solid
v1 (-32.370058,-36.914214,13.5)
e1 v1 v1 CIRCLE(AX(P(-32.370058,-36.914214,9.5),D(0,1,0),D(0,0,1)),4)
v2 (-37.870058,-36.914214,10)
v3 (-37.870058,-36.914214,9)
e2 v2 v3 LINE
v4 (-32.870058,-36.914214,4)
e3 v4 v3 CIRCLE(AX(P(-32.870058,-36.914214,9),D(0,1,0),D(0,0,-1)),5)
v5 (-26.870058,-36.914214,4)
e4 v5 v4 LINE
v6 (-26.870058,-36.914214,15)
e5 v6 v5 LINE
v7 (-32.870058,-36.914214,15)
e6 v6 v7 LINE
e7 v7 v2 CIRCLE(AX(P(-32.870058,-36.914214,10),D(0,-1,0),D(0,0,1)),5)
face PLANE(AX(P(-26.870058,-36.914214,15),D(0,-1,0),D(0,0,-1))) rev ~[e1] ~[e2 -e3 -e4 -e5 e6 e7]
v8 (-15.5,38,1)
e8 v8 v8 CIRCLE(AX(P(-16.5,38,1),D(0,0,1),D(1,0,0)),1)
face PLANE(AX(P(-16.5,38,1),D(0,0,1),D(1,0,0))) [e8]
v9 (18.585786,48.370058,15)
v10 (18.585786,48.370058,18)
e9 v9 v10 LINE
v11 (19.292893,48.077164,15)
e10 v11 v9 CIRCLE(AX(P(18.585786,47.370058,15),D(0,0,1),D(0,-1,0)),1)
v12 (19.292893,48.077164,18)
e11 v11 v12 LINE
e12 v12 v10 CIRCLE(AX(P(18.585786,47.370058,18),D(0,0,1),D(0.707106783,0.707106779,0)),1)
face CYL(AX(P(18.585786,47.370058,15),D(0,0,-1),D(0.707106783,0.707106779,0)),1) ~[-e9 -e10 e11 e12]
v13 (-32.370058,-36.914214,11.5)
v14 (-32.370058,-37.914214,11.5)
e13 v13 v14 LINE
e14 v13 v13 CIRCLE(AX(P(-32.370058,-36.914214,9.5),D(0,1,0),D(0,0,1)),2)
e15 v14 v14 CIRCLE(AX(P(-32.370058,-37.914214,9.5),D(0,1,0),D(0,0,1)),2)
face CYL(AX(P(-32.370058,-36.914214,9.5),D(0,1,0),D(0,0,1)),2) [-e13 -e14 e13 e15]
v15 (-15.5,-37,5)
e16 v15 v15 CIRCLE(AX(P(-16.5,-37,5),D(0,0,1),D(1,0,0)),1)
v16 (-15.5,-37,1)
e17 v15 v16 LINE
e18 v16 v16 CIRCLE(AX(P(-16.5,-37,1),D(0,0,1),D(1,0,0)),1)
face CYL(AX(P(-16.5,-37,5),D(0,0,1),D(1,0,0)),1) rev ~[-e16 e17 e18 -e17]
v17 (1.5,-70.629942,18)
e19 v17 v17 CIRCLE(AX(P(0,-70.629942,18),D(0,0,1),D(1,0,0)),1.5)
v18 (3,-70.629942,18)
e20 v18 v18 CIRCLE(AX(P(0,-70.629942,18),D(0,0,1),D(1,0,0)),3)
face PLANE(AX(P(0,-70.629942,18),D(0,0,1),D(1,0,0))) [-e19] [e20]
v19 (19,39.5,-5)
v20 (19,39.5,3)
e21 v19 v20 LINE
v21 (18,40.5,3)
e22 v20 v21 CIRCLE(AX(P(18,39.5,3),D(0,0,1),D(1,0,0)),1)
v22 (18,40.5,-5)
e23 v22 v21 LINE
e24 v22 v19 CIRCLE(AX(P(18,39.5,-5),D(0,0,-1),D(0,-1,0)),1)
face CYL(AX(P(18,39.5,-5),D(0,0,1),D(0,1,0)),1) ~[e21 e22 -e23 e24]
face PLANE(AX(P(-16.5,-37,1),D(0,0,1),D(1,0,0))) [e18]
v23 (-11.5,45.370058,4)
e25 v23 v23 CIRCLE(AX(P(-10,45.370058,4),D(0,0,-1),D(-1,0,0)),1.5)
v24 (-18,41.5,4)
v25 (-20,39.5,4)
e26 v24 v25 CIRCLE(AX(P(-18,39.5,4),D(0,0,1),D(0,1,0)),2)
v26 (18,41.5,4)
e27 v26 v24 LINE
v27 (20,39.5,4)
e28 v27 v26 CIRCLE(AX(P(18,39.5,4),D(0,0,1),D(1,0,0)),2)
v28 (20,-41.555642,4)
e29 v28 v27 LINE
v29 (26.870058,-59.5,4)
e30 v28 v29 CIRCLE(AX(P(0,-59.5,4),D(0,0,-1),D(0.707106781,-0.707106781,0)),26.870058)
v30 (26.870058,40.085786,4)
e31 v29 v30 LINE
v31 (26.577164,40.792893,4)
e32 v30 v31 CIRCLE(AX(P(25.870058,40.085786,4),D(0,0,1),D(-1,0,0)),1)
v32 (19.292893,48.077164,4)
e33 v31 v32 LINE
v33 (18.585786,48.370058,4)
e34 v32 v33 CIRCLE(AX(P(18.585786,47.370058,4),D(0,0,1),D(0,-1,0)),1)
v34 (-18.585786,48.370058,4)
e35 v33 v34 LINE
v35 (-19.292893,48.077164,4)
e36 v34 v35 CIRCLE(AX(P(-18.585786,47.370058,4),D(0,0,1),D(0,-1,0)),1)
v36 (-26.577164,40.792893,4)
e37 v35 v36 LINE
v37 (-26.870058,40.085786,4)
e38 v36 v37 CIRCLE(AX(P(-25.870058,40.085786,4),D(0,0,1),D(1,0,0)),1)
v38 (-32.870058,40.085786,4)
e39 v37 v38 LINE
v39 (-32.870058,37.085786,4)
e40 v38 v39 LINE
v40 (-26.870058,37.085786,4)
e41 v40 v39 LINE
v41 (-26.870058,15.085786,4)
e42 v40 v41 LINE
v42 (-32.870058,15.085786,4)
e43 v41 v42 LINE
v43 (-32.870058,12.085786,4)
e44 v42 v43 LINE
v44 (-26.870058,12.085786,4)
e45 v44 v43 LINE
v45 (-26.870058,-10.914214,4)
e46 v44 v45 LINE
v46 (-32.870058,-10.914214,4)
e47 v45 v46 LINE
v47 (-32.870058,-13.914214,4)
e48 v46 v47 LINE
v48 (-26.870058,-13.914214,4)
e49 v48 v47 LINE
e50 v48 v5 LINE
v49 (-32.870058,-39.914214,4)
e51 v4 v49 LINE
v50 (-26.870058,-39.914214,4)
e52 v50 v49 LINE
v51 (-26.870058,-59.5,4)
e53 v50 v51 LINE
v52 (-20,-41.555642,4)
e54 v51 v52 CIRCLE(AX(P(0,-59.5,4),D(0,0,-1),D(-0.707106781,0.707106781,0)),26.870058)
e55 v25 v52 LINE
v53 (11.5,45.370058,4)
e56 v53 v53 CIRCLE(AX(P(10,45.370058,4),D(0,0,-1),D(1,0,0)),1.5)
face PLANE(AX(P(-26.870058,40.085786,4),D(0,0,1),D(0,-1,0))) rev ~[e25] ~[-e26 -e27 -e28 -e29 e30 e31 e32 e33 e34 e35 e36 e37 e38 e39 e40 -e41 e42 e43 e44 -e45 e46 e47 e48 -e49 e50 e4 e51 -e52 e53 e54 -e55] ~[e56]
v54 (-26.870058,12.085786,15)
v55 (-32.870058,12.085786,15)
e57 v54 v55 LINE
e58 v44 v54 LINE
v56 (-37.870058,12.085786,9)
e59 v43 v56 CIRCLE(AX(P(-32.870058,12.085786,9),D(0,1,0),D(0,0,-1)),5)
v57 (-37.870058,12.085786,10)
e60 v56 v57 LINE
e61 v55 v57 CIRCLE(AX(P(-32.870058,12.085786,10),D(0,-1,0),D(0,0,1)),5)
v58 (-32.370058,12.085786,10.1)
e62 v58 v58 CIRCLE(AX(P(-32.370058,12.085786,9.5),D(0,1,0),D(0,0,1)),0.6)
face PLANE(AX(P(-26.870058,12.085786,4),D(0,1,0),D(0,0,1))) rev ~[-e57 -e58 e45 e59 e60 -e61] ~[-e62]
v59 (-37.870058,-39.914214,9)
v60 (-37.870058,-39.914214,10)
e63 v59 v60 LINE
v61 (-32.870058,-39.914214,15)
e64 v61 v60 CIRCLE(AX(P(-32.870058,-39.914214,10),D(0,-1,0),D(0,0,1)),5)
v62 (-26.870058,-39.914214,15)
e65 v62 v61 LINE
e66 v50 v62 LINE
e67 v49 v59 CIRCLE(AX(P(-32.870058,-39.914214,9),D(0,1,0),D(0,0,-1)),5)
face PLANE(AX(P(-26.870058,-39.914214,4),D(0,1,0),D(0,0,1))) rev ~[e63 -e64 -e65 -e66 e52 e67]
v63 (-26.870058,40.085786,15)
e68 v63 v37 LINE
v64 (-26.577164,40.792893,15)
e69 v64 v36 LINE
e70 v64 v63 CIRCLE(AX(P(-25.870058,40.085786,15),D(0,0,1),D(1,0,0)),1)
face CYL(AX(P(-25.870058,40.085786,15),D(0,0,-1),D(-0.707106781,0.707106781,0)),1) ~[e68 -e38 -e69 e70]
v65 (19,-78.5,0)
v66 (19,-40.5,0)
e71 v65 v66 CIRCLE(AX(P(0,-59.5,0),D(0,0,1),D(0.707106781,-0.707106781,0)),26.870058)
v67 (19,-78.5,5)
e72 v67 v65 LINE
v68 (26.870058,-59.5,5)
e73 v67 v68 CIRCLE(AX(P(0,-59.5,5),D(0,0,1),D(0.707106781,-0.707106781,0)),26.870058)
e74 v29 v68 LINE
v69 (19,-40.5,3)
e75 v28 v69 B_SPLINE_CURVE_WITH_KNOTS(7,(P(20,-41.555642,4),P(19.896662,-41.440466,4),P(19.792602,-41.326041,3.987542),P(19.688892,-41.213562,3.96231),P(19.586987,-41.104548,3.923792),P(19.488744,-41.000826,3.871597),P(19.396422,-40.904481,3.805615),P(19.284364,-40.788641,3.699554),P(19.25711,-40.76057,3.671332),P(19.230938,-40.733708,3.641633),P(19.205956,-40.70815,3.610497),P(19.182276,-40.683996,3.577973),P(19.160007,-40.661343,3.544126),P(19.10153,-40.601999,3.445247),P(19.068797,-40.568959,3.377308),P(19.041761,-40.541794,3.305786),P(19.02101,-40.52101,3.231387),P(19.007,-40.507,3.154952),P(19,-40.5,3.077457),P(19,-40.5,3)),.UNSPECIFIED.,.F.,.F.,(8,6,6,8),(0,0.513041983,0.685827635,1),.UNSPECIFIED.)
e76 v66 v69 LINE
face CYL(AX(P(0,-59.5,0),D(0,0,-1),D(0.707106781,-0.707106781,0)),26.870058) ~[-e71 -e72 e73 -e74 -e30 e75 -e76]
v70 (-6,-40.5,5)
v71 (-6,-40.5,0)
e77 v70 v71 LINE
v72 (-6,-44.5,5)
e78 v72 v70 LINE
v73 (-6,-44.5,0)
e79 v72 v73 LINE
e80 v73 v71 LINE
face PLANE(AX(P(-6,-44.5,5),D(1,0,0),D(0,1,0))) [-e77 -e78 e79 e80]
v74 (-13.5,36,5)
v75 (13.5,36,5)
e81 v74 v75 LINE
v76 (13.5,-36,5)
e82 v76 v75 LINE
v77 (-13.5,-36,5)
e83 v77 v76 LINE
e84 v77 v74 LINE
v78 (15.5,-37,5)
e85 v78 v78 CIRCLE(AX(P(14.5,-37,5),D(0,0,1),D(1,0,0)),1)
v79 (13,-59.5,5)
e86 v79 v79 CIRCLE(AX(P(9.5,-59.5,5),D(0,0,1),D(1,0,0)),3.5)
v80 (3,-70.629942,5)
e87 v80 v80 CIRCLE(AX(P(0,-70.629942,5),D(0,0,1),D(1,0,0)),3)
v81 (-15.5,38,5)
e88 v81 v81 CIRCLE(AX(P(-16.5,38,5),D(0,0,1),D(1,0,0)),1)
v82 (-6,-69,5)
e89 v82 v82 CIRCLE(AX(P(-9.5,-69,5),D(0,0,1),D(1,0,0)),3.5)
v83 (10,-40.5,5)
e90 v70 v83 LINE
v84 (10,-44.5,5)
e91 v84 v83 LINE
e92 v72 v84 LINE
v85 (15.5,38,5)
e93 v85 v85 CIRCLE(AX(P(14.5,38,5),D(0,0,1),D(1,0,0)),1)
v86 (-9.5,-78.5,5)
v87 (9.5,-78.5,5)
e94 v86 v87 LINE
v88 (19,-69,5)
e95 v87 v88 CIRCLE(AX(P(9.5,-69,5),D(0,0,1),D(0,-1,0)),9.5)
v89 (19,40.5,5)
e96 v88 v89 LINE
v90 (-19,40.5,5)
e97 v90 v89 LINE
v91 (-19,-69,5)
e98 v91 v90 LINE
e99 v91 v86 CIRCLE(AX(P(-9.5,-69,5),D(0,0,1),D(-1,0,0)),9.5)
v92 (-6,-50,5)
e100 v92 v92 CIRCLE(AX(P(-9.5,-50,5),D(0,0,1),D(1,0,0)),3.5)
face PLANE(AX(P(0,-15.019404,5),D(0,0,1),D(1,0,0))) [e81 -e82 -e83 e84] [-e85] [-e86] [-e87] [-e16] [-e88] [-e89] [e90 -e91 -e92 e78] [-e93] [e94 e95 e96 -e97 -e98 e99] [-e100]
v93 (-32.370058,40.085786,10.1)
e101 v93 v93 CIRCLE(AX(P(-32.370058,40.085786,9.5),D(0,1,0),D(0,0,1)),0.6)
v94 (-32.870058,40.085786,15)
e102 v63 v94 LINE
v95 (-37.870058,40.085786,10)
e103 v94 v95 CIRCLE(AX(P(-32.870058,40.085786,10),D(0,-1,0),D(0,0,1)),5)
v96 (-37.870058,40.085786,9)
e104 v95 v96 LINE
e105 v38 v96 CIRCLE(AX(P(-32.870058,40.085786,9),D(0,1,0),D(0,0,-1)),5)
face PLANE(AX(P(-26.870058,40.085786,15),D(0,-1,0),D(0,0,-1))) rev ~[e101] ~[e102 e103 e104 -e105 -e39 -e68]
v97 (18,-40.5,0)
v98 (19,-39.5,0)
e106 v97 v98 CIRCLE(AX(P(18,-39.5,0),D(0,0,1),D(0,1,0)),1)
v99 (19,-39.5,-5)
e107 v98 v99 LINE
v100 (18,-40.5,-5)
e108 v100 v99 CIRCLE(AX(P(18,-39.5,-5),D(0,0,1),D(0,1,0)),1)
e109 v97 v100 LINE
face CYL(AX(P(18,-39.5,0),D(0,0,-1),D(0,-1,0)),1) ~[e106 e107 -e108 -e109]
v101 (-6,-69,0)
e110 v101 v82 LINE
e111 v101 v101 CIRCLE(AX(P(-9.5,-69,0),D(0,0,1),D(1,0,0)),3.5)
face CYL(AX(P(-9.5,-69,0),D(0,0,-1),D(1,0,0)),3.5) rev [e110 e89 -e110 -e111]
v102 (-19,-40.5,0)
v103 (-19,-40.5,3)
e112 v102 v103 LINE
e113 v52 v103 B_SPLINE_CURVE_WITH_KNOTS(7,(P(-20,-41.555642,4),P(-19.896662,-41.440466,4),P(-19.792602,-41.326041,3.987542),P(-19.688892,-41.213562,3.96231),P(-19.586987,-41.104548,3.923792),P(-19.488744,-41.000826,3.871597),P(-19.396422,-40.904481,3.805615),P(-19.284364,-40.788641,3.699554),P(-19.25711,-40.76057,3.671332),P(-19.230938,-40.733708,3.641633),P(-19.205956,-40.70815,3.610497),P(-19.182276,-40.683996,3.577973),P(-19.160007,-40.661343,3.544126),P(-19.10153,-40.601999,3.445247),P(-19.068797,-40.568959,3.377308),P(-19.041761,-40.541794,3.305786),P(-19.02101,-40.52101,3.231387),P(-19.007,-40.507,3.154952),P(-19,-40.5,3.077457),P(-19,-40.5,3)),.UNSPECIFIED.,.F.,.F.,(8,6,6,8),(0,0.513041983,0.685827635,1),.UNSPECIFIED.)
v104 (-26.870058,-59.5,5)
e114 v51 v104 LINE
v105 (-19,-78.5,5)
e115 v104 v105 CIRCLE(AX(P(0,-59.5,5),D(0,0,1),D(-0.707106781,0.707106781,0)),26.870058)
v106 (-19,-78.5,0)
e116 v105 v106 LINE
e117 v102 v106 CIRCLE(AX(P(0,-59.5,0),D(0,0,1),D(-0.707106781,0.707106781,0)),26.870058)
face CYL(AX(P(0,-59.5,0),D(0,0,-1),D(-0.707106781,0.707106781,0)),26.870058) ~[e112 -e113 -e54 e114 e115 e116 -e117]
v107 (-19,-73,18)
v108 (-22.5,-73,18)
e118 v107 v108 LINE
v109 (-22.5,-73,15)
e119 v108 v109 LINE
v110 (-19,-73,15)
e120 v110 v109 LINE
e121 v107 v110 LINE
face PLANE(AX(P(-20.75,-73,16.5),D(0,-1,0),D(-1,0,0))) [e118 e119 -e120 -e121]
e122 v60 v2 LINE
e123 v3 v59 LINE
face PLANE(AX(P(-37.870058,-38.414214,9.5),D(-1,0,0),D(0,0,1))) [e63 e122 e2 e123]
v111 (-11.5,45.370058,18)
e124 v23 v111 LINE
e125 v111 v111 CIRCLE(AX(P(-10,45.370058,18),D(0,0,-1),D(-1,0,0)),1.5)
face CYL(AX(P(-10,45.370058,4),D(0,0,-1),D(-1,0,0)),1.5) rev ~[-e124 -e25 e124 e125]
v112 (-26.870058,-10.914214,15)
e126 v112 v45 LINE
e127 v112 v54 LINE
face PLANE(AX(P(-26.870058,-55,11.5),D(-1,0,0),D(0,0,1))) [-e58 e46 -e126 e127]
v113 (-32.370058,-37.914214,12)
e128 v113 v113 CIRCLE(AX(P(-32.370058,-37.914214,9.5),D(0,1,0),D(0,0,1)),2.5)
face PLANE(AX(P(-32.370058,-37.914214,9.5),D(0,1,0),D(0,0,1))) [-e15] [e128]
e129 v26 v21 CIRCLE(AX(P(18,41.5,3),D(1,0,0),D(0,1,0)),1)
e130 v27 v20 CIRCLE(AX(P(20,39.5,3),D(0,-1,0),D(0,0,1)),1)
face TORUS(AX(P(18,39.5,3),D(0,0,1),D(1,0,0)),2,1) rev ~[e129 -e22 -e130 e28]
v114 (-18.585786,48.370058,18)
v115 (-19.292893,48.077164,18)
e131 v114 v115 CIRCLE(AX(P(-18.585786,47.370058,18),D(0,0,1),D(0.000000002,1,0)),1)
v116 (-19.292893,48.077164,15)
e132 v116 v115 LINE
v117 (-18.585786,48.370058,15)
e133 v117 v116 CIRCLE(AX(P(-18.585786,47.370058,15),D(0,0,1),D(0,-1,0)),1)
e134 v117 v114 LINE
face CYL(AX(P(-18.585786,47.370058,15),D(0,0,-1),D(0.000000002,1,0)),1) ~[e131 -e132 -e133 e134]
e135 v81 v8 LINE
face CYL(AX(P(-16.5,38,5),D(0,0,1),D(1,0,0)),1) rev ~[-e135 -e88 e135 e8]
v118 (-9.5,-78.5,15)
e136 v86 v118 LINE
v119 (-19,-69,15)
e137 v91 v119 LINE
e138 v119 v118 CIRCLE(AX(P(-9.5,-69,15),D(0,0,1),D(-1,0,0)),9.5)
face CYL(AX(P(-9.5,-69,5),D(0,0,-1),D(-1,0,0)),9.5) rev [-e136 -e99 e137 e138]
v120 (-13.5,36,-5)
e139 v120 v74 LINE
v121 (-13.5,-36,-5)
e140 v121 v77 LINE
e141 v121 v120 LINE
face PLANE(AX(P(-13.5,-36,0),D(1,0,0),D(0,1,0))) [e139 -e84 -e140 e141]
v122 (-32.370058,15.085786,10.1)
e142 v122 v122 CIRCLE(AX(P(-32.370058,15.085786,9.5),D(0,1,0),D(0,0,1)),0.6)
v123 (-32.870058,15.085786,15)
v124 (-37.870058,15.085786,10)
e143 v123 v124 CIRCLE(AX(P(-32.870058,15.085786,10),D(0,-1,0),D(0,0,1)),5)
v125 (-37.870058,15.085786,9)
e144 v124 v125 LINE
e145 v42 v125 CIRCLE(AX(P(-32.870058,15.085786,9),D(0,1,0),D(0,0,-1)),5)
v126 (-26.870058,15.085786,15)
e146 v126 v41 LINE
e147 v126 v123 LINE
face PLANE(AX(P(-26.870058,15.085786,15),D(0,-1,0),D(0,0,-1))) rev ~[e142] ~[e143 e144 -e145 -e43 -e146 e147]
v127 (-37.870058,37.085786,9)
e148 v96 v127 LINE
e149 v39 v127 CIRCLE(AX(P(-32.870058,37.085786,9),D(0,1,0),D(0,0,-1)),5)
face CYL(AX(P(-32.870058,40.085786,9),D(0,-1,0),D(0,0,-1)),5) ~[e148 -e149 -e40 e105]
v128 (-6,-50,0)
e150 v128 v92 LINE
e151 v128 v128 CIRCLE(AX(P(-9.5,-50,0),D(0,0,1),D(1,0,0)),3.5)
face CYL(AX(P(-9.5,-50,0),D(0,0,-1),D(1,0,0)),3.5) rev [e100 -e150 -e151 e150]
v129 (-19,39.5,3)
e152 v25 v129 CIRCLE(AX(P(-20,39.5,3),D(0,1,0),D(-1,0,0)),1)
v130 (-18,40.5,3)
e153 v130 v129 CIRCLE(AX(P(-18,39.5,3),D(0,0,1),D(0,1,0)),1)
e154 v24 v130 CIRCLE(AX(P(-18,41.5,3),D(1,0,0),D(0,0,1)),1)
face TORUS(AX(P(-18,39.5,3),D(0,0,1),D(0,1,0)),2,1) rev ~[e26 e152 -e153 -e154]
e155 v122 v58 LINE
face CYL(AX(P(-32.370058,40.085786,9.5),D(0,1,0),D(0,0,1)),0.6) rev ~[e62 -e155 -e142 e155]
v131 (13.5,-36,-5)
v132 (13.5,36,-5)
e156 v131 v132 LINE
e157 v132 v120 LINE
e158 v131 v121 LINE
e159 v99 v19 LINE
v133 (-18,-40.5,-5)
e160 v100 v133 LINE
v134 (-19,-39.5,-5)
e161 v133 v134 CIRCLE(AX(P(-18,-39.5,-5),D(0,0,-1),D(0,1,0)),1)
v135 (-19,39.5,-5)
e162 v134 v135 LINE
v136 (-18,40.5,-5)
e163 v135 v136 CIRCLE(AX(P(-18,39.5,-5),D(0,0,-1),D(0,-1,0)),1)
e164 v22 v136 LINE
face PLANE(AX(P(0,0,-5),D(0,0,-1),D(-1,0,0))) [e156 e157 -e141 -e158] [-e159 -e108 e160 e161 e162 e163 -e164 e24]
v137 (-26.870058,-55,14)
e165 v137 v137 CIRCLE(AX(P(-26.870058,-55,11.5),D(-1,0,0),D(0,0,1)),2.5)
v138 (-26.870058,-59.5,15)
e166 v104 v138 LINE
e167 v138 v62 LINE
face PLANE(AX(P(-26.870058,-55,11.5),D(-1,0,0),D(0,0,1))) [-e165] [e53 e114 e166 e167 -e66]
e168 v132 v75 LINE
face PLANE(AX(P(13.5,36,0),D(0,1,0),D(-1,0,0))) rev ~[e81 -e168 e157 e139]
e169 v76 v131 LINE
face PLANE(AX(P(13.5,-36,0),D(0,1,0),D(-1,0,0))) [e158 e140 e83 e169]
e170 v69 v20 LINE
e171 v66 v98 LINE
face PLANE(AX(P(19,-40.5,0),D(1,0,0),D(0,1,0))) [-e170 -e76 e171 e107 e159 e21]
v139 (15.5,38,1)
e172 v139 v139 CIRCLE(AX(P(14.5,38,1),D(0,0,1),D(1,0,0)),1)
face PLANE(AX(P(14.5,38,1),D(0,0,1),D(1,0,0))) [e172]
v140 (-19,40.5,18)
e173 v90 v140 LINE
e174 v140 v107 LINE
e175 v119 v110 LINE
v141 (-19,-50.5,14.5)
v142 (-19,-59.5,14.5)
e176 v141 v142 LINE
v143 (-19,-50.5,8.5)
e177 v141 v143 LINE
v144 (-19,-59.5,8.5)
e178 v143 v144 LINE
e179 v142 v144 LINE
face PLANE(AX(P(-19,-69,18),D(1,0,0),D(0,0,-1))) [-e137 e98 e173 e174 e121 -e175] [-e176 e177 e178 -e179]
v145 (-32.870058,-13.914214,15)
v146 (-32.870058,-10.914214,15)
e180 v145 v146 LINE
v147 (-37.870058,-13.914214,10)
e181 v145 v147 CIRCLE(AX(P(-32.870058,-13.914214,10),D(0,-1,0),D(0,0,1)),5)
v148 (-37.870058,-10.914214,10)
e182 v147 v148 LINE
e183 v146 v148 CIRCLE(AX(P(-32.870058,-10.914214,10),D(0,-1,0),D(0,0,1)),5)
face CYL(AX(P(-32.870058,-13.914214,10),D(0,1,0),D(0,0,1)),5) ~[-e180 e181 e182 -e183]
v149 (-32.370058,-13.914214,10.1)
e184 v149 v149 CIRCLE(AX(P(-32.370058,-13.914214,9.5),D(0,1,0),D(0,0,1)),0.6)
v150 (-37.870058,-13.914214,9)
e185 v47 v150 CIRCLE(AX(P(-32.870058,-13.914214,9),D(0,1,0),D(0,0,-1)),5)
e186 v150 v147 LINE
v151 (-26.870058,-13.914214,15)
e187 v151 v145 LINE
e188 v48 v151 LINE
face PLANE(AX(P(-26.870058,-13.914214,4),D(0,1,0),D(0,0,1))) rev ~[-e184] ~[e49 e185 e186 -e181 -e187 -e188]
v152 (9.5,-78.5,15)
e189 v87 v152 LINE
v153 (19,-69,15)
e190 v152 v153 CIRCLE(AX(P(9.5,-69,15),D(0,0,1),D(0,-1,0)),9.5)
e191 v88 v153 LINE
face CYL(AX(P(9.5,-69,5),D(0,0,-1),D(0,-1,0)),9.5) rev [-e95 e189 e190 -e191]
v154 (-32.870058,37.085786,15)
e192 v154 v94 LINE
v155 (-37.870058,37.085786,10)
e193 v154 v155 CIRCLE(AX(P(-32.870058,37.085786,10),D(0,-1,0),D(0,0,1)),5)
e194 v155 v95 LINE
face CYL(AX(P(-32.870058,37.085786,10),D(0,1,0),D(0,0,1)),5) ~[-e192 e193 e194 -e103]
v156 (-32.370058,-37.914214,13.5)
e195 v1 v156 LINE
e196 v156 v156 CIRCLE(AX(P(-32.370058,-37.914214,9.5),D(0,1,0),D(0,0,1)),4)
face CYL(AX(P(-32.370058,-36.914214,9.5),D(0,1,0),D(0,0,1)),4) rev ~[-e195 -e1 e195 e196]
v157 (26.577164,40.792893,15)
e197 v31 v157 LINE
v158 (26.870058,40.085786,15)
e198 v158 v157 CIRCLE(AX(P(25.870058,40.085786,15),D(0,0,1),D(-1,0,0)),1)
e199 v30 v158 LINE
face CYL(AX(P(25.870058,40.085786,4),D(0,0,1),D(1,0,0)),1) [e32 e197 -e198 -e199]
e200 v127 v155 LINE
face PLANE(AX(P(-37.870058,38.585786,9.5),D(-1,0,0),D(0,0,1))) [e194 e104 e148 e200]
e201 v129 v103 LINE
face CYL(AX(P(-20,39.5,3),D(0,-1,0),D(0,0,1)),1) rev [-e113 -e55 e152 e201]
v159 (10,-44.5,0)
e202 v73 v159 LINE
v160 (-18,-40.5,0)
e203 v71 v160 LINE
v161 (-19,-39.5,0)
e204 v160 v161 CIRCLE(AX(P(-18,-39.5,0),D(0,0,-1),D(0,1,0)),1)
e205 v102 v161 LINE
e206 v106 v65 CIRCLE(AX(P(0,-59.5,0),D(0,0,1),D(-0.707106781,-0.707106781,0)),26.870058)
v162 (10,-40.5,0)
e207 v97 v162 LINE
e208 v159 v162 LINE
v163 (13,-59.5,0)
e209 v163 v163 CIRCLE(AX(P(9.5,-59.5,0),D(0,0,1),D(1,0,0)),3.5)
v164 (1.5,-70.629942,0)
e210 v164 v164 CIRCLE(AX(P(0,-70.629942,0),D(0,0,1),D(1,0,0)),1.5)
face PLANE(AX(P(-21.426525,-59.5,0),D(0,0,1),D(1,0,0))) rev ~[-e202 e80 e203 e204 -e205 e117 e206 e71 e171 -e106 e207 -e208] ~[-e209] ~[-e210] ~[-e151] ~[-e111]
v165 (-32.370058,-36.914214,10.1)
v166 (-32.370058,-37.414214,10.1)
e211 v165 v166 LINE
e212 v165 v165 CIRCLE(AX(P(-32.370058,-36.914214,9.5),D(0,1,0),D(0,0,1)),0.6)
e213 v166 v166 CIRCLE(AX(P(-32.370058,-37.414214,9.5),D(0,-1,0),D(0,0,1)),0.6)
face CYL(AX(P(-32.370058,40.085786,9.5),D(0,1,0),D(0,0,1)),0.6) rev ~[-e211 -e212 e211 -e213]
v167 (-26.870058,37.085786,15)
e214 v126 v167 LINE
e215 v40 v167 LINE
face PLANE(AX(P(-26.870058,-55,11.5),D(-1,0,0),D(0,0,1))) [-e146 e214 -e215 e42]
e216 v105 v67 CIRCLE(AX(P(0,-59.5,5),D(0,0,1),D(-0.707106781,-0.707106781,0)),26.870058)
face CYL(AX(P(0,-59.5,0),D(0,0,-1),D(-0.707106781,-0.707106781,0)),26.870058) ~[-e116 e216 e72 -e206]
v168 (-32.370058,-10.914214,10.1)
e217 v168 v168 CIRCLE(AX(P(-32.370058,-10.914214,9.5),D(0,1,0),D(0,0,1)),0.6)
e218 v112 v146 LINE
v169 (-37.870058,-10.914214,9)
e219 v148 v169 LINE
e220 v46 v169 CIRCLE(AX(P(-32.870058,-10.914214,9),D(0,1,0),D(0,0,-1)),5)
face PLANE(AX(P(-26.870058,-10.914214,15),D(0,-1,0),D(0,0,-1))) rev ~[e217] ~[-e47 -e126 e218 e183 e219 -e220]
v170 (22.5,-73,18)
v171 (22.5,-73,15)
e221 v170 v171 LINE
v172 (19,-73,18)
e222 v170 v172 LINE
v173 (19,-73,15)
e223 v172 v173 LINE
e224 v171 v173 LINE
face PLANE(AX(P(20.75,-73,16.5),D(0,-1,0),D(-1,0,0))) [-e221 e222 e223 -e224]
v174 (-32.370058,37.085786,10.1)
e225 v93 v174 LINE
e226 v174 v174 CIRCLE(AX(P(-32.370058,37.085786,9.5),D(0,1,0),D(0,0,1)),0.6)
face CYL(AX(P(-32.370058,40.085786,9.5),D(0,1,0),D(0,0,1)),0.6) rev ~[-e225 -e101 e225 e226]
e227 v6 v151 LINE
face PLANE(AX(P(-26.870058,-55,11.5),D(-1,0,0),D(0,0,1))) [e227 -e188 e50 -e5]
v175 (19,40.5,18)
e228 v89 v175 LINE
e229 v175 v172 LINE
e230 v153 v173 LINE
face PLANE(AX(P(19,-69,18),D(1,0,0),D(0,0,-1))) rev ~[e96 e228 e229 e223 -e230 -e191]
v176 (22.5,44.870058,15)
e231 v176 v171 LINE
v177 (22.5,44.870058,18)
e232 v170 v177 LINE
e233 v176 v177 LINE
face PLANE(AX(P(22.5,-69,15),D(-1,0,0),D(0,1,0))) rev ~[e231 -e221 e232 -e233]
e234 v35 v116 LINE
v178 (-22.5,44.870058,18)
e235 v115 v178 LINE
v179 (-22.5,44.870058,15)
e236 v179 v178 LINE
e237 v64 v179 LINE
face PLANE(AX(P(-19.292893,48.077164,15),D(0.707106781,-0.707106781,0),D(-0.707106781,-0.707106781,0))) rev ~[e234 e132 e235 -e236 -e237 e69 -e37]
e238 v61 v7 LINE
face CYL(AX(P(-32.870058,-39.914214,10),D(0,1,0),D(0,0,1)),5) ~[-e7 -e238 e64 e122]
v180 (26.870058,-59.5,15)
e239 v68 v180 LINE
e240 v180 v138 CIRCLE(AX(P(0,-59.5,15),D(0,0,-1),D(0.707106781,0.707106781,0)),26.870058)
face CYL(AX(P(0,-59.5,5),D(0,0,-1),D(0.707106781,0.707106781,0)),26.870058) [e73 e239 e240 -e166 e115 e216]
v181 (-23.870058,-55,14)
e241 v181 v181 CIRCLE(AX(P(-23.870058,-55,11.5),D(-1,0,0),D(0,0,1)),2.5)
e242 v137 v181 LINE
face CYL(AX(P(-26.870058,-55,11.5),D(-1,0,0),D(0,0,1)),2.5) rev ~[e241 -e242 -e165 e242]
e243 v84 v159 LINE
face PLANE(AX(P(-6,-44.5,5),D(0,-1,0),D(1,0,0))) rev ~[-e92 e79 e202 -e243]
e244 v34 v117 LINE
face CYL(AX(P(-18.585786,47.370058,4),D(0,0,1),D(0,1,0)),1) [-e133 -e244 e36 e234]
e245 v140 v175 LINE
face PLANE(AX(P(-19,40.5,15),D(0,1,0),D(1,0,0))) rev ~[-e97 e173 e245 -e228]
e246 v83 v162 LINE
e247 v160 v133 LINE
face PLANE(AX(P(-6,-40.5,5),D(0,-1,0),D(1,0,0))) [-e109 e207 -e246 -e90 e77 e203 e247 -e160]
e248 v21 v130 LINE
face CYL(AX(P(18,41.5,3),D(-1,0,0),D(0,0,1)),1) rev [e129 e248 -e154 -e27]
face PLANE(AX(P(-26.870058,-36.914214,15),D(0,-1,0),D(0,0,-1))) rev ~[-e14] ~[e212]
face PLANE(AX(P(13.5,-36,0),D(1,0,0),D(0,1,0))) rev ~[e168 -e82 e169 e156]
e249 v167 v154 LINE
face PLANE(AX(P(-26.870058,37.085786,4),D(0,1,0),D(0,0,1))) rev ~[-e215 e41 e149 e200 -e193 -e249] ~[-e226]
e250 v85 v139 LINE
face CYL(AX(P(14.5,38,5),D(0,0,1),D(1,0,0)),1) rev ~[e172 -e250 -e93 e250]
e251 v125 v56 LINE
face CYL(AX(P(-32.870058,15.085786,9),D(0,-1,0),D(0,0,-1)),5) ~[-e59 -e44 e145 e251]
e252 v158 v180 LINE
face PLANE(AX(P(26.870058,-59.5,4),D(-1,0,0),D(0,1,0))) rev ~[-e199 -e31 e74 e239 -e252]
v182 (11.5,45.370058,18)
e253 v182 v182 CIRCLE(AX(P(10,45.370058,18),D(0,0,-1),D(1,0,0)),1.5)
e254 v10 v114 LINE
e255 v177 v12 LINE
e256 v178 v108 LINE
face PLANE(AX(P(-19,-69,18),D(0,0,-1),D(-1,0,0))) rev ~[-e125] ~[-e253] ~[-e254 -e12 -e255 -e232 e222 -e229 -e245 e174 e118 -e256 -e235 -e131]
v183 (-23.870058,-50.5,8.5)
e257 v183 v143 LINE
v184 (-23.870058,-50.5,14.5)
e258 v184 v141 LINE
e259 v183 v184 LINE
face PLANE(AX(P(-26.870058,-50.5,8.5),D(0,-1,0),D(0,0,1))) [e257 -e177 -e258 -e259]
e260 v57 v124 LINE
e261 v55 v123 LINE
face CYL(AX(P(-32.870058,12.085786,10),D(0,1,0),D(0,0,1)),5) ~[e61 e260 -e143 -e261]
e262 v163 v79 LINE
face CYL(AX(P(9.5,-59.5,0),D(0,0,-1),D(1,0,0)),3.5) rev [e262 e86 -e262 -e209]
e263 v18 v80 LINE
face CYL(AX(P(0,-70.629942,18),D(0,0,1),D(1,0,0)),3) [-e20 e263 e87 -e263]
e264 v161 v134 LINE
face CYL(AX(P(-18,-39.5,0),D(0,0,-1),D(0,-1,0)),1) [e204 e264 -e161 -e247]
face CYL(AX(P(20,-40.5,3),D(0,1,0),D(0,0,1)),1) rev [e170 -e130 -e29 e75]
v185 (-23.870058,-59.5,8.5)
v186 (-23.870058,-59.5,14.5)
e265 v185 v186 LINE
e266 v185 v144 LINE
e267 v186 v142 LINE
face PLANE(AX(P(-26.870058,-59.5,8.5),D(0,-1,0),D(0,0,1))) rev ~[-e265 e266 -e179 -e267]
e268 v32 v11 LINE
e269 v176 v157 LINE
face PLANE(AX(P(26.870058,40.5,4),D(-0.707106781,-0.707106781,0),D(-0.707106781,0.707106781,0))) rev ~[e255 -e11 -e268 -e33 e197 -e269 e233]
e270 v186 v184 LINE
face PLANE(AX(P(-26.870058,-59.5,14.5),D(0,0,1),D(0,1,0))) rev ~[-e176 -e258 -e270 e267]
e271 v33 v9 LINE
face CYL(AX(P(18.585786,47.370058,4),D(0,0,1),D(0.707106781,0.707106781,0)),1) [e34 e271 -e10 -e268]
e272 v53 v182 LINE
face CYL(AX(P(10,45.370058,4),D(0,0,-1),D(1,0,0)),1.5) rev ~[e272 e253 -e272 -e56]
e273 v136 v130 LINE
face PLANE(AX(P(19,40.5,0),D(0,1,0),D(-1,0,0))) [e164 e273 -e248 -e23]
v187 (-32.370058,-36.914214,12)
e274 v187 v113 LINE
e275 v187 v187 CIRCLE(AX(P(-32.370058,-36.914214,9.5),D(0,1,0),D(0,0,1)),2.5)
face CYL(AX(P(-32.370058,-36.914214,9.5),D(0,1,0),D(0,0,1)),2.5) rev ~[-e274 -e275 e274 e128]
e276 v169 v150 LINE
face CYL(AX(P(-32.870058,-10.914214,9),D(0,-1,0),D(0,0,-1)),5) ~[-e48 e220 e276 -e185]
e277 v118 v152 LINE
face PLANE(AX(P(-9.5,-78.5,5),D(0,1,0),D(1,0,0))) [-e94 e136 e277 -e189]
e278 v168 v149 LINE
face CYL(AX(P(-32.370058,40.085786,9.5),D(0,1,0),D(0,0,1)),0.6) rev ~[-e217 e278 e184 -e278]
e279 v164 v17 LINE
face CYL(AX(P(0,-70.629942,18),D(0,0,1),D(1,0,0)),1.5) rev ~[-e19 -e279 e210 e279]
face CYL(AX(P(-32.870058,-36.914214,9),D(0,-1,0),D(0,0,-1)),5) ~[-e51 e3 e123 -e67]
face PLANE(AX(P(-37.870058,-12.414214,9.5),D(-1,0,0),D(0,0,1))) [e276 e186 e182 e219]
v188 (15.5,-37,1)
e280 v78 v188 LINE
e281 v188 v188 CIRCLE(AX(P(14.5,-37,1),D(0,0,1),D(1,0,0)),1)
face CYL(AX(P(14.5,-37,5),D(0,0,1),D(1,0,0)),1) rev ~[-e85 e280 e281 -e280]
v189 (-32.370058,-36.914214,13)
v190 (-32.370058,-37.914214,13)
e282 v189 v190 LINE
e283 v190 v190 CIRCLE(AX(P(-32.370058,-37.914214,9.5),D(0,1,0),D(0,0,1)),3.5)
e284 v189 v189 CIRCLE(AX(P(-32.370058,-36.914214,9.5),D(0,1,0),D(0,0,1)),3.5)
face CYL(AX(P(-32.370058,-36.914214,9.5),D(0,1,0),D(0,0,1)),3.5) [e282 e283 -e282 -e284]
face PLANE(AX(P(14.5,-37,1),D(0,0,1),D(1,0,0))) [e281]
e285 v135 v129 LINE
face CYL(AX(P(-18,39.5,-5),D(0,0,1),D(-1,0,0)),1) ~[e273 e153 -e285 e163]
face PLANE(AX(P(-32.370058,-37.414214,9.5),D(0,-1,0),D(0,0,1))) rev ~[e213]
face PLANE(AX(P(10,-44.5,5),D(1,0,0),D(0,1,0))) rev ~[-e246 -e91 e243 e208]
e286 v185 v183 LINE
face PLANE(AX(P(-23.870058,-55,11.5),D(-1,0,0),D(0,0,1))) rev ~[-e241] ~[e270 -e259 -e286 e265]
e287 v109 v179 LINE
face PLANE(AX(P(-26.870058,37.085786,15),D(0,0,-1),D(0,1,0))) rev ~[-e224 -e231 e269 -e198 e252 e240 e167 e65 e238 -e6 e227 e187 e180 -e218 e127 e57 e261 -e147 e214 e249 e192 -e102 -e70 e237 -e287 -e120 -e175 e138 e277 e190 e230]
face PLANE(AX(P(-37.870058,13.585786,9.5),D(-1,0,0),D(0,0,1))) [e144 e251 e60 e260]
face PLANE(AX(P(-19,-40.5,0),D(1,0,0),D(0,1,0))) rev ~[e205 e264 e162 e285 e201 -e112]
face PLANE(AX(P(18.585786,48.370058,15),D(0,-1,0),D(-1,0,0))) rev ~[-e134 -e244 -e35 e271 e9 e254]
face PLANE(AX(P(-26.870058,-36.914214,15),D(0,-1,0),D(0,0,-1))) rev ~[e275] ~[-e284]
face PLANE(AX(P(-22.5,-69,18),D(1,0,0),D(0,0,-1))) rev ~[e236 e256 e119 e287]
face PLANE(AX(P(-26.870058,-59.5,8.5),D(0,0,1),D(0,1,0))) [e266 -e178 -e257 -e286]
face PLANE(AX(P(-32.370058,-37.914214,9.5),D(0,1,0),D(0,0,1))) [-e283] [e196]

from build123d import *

# Parameters (mm, degrees)
CROQUIS1_W               = 38
CROQUIS1_H               = 81
CROQUIS1_W_2             = 27
CROQUIS1_H_2             = 72
CROQUIS1_H_3             = 38
CROQUIS1_R               = 3.5
SALIENTE_EXTRUIR1_DEPTH  = 5
CROQUIS2_W               = 38
CROQUIS2_H               = 81
CROQUIS2_W_2             = 27
CROQUIS2_H_2             = 72
SALIENTE_EXTRUIR2_DEPTH  = 5
SALIENTE_EXTRUIR9_START  = -1
SALIENTE_EXTRUIR9_DEPTH  = 1
SALIENTE_EXTRUIR10_DEPTH = 11
SALIENTE_EXTRUIR11_DEPTH = 10
REDONDEO1_R              = 1
REDONDEO2_R              = 1
REDONDEO3_R              = 1
CROQUIS6_W               = 6
CROQUIS6_H               = 9
CORTAR_EXTRUIR1_DEPTH    = 8
CROQUIS7_W               = 6
CROQUIS7_H               = 9
CROQUIS7_R               = 2.5
SALIENTE_EXTRUIR12_DEPTH = 3
SALIENTE_EXTRUIR13_DEPTH = 11
REDONDEO4_R              = 5
CROQUIS9_R               = 0.6
CORTAR_EXTRUIR2_DEPTH    = 80
SALIENTE_EXTRUIR14_START = -2.5
CROQUIS10_R              = 0.6
SALIENTE_EXTRUIR14_DEPTH = 2.5
CROQUIS11_R              = 4
CROQUIS11_R_2            = 3.5
CROQUIS11_R_3            = 2.5
CROQUIS11_R_4            = 2
CORTAR_EXTRUIR3_DEPTH    = 1
SALIENTE_EXTRUIR15_DEPTH = 3
CROQUIS14_R              = 1.5
CORTAR_EXTRUIR4_DEPTH    = 14
CROQUIS16_W              = 3.5
CROQUIS16_H              = 3
SALIENTE_EXTRUIR16_DEPTH = 4
CROQUIS25_R              = 3
CROQUIS25_R_2            = 1.5
SALIENTE_EXTRUIR21_DEPTH = 18
CROQUIS26_R              = 1.5
CORTAR_EXTRUIR7_DEPTH    = 18
CROQUIS28_R              = 1
CORTAR_EXTRUIR8_DEPTH    = 4
CROQUIS29_W              = 16
CROQUIS29_H              = 4
CORTAR_EXTRUIR9_DEPTH    = 5


with BuildPart() as part:
    # Croquis1 → Saliente-Extruir1 (new body)
    # profile 1 of 5: a face of its own
    with BuildSketch(Plane.XY):
        Rectangle(CROQUIS1_W, CROQUIS1_H)
        Rectangle(CROQUIS1_W_2, CROQUIS1_H_2, mode=Mode.SUBTRACT)
    # profile 2 of 5: a face of its own
    with BuildSketch(Plane.XY):
        with Locations((0, -59.5)):
            Rectangle(CROQUIS1_W, CROQUIS1_H_3)
        with Locations((-9.5, -69)):
            Circle(CROQUIS1_R, mode=Mode.SUBTRACT)
        with Locations((9.5, -59.5)):
            Circle(CROQUIS1_R, mode=Mode.SUBTRACT)
        with Locations((-9.5, -50)):
            Circle(CROQUIS1_R, mode=Mode.SUBTRACT)
    # profile 3 of 5: a face of its own
    with BuildSketch(Plane.XY):
        with BuildLine():
            ThreePointArc((19, -78.5), (26.870057685, -59.5), (19, -40.5))
            Line((19, -40.5), (19, -78.5))
        make_face()
    # profile 4 of 5: a face of its own
    with BuildSketch(Plane.XY):
        with BuildLine():
            Line((19, -78.5), (-19, -78.5))
            ThreePointArc((-19, -78.5), (0, -86.370057685), (19, -78.5))
        make_face()
    # profile 5 of 5: a face of its own
    with BuildSketch(Plane.XY):
        with BuildLine():
            Line((-19, -78.5), (-19, -40.5))
            ThreePointArc((-19, -40.5), (-26.870057685, -59.5), (-19, -78.5))
        make_face()
    extrude(amount=SALIENTE_EXTRUIR1_DEPTH)

    # Croquis2 → Saliente-Extruir2 (add)
    with BuildSketch(Plane(origin=(0, 0, 0), x_dir=(-1, 0, 0), z_dir=(0, 0, -1))):
        Rectangle(CROQUIS2_W, CROQUIS2_H)
        Rectangle(CROQUIS2_W_2, CROQUIS2_H_2, mode=Mode.SUBTRACT)
    extrude(amount=SALIENTE_EXTRUIR2_DEPTH)

    # Croquis3 → Saliente-Extruir9 (add)
    with BuildSketch(Plane.XY.offset(5).offset(SALIENTE_EXTRUIR9_START)):
        with BuildLine():
            Line((26.870057685, -59.5), (26.870057685, 40.5))
            Line((26.870057685, 40.5), (19, 48.370057685))
            Line((19, 48.370057685), (-19, 48.370057685))
            Line((-19, 48.370057685), (-26.870057685, 40.5))
            Line((-26.870057685, 40.5), (-26.870057685, -59.5))
            ThreePointArc((-26.870057685, -59.5), (0, -86.370057685), (26.870057685, -59.5))
        make_face()
        with BuildLine():
            Line((19, -59.5), (19, 40.5))
            Line((19, 40.5), (-19, 40.5))
            Line((-19, 40.5), (-19, -59.5))
            ThreePointArc((-19, -59.5), (0, -78.5), (19, -59.5))
        make_face(mode=Mode.SUBTRACT)
    extrude(amount=SALIENTE_EXTRUIR9_DEPTH)

    # Croquis4 → Saliente-Extruir10 (add)
    with BuildSketch(Plane(origin=(0, 0, 4), x_dir=(-1, 0, 0), z_dir=(0, 0, -1))):
        with BuildLine():
            Line((19, 40.5), (19, -40.5))
            ThreePointArc((19, -40.5), (24.824696333, -49.217274097), (26.870057685, -59.5))
            Line((26.870057685, -59.5), (26.870057685, 40.5))
            Line((26.870057685, 40.5), (19, 48.370057685))
            Line((19, 48.370057685), (-19, 48.370057685))
            Line((-19, 48.370057685), (-26.870057685, 40.5))
            Line((-26.870057685, 40.5), (-26.870057685, -59.5))
            ThreePointArc((-26.870057685, -59.5), (-24.824696333, -49.217274097), (-19, -40.5))
            Line((-19, -40.5), (-19, 40.5))
            Line((-19, 40.5), (19, 40.5))
        make_face()
    extrude(amount=-SALIENTE_EXTRUIR10_DEPTH)

    # Croquis5 → Saliente-Extruir11 (add)
    with BuildSketch(Plane.XY.offset(5)):
        with BuildLine():
            Line((-19, -59.5), (-19, -69))
            ThreePointArc((-19, -69), (-16.217514421, -75.717514421), (-9.5, -78.5))
            Line((-9.5, -78.5), (9.5, -78.5))
            ThreePointArc((9.5, -78.5), (16.217514421, -75.717514421), (19, -69))
            Line((19, -69), (19, -59.5))
            Line((19, -59.5), (19, -40.5))
            ThreePointArc((19, -40.5), (0, -86.370057685), (-19, -40.5))
            Line((-19, -40.5), (-19, -59.5))
        make_face()
    extrude(amount=SALIENTE_EXTRUIR11_DEPTH)

    # Redondeo1
    redondeo1_edges = [part.edges().sort_by_distance(p)[0] for p in [
        (19, -40.5, -2.5),
        (-19, -40.5, -2.5),
        (19, 40.5, -0.5),
        (-19, 40.5, -0.5),
    ]]
    fillet(redondeo1_edges, radius=REDONDEO1_R)

    # Redondeo2
    redondeo2_edges = [part.edges().sort_by_distance(p)[0] for p in [
        (-19, -0.5, 4),
        (0, 40.5, 4),
        (-18.707106781, 40.207106781, 4),
        (18.707106781, 40.207106781, 4),
        (19, -0.5, 4),
    ]]
    fillet(redondeo2_edges, radius=REDONDEO2_R)

    # Redondeo3
    redondeo3_edges = [part.edges().sort_by_distance(p)[0] for p in [
        (19, 48.370057685, 9.5),
        (26.870057685, 40.5, 9.5),
        (-26.870057685, 40.5, 9.5),
        (-19, 48.370057685, 9.5),
    ]]
    fillet(redondeo3_edges, radius=REDONDEO3_R)

    # Croquis6 → Cortar-Extruir1 (cut)
    with BuildSketch(Plane.ZY.offset(26.870057685)):
        with Locations((11.5, -55)):
            Rectangle(CROQUIS6_W, CROQUIS6_H)
    extrude(amount=-CORTAR_EXTRUIR1_DEPTH, mode=Mode.SUBTRACT)

    # Croquis7 → Saliente-Extruir12 (add)
    with BuildSketch(Plane.ZY.offset(26.870057685)):
        with Locations((11.5, -55)):
            Rectangle(CROQUIS7_W, CROQUIS7_H)
        with Locations((11.5, -55)):
            Circle(CROQUIS7_R, mode=Mode.SUBTRACT)
    extrude(amount=-SALIENTE_EXTRUIR12_DEPTH)

    # Croquis8 → Saliente-Extruir13 (add)
    with BuildSketch(Plane.ZY.offset(26.870057685)):
        Polygon((15, 40.085786438), (4, 40.085786438), (4, 37.085786438), (9.5, 37.085786438), (15, 37.085786438), align=None)
        Polygon((9.5, 15.085786438), (4, 15.085786438), (4, 12.085786438), (9.5, 12.085786438), (15, 12.085786438), (15, 15.085786438), align=None)
        Polygon((9.5, -10.914213562), (4, -10.914213562), (4, -13.914213562), (9.5, -13.914213562), (15, -13.914213562), (15, -10.914213562), align=None)
        Polygon((9.5, -36.914213562), (4, -36.914213562), (4, -39.914213562), (15, -39.914213562), (15, -36.914213562), align=None)
    extrude(amount=SALIENTE_EXTRUIR13_DEPTH)

    # Redondeo4
    redondeo4_edges = [part.edges().sort_by_distance(p)[0] for p in [
        (-37.870057685, 38.585786438, 4),
        (-37.870057685, 38.585786438, 15),
        (-37.870057685, 13.585786438, 4),
        (-37.870057685, 13.585786438, 15),
        (-37.870057685, -12.414213562, 4),
        (-37.870057685, -12.414213562, 15),
        (-37.870057685, -38.414213562, 4),
        (-37.870057685, -38.414213562, 15),
    ]]
    fillet(redondeo4_edges, radius=REDONDEO4_R)

    # Croquis9 → Cortar-Extruir2 (cut)
    with BuildSketch(Plane(origin=(0, 40.085786438, 0), x_dir=(1, 0, 0), z_dir=(0, 1, 0))):
        with Locations(Location((-32.370057685, -9.5, 0), (0, 0, 270))):
            Circle(CROQUIS9_R)
    extrude(amount=-CORTAR_EXTRUIR2_DEPTH, mode=Mode.SUBTRACT)

    # Croquis10 → Saliente-Extruir14 (add)
    with BuildSketch(Plane.XZ.offset(39.914213562).offset(SALIENTE_EXTRUIR14_START)):
        with Locations(Location((-32.370057685, 9.5, 0), (0, 0, 90))):
            Circle(CROQUIS10_R)
    extrude(amount=SALIENTE_EXTRUIR14_DEPTH)

    # Croquis11 → Cortar-Extruir3 (cut)
    # profile 1 of 2: a face of its own
    with BuildSketch(Plane(origin=(0, -36.914213562, 0), x_dir=(1, 0, 0), z_dir=(0, 1, 0))):
        with Locations(Location((-32.370057685, -9.5, 0), (0, 0, 270))):
            Circle(CROQUIS11_R)
        with Locations(Location((-32.370057685, -9.5, 0), (0, 0, 270))):
            Circle(CROQUIS11_R_2, mode=Mode.SUBTRACT)
    # profile 2 of 2: a face of its own
    with BuildSketch(Plane(origin=(0, -36.914213562, 0), x_dir=(1, 0, 0), z_dir=(0, 1, 0))):
        with Locations(Location((-32.370057685, -9.5, 0), (0, 0, 270))):
            Circle(CROQUIS11_R_3)
        with Locations(Location((-32.370057685, -9.5, 0), (0, 0, 270))):
            Circle(CROQUIS11_R_4, mode=Mode.SUBTRACT)
    extrude(amount=-CORTAR_EXTRUIR3_DEPTH, mode=Mode.SUBTRACT)

    # Croquis13 → Saliente-Extruir15 (add)
    with BuildSketch(Plane.XY.offset(15)):
        Polygon((-19, -65.5), (-19, 40.5), (-22.5, 40.5), (-22.5, -69), (-19, -69), align=None)
        Polygon((22.5, 40.5), (19, 40.5), (19, -65.5), (19, -69), (22.5, -69), align=None)
        with BuildLine():
            Line((-19, 40.5), (19, 40.5))
            Line((19, 40.5), (22.5, 40.5))
            Line((22.5, 40.5), (22.5, 44.870057685))
            Line((22.5, 44.870057685), (19.292893219, 48.077164466))
            ThreePointArc((19.292893219, 48.077164466), (18.96846987, 48.293937218), (18.585786438, 48.370057685))
            Line((18.585786438, 48.370057685), (-18.585786438, 48.370057685))
            ThreePointArc((-18.585786438, 48.370057685), (-18.96846987, 48.293937218), (-19.292893219, 48.077164466))
            Line((-19.292893219, 48.077164466), (-22.5, 44.870057685))
            Line((-22.5, 44.870057685), (-22.5, 40.5))
            Line((-22.5, 40.5), (-19, 40.5))
        make_face()
    extrude(amount=SALIENTE_EXTRUIR15_DEPTH)

    # Croquis14 → Cortar-Extruir4 (cut)
    with BuildSketch(Plane(origin=(0, 0, 4), x_dir=(-1, 0, 0), z_dir=(0, 0, -1))):
        with Locations((10, 45.370057685)):
            Circle(CROQUIS14_R)
        with Locations(Location((-10, 45.370057685, 0), (0, 0, 180))):
            Circle(CROQUIS14_R)
    extrude(amount=-CORTAR_EXTRUIR4_DEPTH, mode=Mode.SUBTRACT)

    # Croquis16 → Saliente-Extruir16 (add)
    with BuildSketch(Plane(origin=(0, -69, 0), x_dir=(-1, 0, 0), z_dir=(0, -1, 0))):
        with Locations((20.75, -16.5)):
            Rectangle(CROQUIS16_W, CROQUIS16_H)
        with Locations((-20.75, -16.5)):
            Rectangle(CROQUIS16_W, CROQUIS16_H)
    extrude(amount=SALIENTE_EXTRUIR16_DEPTH)

    # Croquis25 → Saliente-Extruir21 (add)
    with BuildSketch(Plane.XY.offset(18)):
        with Locations((0, -70.629942315)):
            Circle(CROQUIS25_R)
        with Locations((0, -70.629942315)):
            Circle(CROQUIS25_R_2, mode=Mode.SUBTRACT)
    extrude(amount=-SALIENTE_EXTRUIR21_DEPTH)

    # Croquis26 → Cortar-Extruir7 (cut)
    with BuildSketch(Plane.XY.offset(18)):
        with Locations((0, -70.629942315)):
            Circle(CROQUIS26_R)
    extrude(amount=-CORTAR_EXTRUIR7_DEPTH, mode=Mode.SUBTRACT)

    # Croquis28 → Cortar-Extruir8 (cut)
    with BuildSketch(Plane.XY.offset(5)):
        with Locations((-16.5, 38)):
            Circle(CROQUIS28_R)
        with Locations((14.5, 38)):
            Circle(CROQUIS28_R)
        with Locations((14.5, -37)):
            Circle(CROQUIS28_R)
        with Locations((-16.5, -37)):
            Circle(CROQUIS28_R)
    extrude(amount=-CORTAR_EXTRUIR8_DEPTH, mode=Mode.SUBTRACT)

    # Croquis29 → Cortar-Extruir9 (cut)
    with BuildSketch(Plane.XY.offset(5)):
        with Locations((2, -42.5)):
            Rectangle(CROQUIS29_W, CROQUIS29_H)
    extrude(amount=-CORTAR_EXTRUIR9_DEPTH, mode=Mode.SUBTRACT)


solid = part.part
